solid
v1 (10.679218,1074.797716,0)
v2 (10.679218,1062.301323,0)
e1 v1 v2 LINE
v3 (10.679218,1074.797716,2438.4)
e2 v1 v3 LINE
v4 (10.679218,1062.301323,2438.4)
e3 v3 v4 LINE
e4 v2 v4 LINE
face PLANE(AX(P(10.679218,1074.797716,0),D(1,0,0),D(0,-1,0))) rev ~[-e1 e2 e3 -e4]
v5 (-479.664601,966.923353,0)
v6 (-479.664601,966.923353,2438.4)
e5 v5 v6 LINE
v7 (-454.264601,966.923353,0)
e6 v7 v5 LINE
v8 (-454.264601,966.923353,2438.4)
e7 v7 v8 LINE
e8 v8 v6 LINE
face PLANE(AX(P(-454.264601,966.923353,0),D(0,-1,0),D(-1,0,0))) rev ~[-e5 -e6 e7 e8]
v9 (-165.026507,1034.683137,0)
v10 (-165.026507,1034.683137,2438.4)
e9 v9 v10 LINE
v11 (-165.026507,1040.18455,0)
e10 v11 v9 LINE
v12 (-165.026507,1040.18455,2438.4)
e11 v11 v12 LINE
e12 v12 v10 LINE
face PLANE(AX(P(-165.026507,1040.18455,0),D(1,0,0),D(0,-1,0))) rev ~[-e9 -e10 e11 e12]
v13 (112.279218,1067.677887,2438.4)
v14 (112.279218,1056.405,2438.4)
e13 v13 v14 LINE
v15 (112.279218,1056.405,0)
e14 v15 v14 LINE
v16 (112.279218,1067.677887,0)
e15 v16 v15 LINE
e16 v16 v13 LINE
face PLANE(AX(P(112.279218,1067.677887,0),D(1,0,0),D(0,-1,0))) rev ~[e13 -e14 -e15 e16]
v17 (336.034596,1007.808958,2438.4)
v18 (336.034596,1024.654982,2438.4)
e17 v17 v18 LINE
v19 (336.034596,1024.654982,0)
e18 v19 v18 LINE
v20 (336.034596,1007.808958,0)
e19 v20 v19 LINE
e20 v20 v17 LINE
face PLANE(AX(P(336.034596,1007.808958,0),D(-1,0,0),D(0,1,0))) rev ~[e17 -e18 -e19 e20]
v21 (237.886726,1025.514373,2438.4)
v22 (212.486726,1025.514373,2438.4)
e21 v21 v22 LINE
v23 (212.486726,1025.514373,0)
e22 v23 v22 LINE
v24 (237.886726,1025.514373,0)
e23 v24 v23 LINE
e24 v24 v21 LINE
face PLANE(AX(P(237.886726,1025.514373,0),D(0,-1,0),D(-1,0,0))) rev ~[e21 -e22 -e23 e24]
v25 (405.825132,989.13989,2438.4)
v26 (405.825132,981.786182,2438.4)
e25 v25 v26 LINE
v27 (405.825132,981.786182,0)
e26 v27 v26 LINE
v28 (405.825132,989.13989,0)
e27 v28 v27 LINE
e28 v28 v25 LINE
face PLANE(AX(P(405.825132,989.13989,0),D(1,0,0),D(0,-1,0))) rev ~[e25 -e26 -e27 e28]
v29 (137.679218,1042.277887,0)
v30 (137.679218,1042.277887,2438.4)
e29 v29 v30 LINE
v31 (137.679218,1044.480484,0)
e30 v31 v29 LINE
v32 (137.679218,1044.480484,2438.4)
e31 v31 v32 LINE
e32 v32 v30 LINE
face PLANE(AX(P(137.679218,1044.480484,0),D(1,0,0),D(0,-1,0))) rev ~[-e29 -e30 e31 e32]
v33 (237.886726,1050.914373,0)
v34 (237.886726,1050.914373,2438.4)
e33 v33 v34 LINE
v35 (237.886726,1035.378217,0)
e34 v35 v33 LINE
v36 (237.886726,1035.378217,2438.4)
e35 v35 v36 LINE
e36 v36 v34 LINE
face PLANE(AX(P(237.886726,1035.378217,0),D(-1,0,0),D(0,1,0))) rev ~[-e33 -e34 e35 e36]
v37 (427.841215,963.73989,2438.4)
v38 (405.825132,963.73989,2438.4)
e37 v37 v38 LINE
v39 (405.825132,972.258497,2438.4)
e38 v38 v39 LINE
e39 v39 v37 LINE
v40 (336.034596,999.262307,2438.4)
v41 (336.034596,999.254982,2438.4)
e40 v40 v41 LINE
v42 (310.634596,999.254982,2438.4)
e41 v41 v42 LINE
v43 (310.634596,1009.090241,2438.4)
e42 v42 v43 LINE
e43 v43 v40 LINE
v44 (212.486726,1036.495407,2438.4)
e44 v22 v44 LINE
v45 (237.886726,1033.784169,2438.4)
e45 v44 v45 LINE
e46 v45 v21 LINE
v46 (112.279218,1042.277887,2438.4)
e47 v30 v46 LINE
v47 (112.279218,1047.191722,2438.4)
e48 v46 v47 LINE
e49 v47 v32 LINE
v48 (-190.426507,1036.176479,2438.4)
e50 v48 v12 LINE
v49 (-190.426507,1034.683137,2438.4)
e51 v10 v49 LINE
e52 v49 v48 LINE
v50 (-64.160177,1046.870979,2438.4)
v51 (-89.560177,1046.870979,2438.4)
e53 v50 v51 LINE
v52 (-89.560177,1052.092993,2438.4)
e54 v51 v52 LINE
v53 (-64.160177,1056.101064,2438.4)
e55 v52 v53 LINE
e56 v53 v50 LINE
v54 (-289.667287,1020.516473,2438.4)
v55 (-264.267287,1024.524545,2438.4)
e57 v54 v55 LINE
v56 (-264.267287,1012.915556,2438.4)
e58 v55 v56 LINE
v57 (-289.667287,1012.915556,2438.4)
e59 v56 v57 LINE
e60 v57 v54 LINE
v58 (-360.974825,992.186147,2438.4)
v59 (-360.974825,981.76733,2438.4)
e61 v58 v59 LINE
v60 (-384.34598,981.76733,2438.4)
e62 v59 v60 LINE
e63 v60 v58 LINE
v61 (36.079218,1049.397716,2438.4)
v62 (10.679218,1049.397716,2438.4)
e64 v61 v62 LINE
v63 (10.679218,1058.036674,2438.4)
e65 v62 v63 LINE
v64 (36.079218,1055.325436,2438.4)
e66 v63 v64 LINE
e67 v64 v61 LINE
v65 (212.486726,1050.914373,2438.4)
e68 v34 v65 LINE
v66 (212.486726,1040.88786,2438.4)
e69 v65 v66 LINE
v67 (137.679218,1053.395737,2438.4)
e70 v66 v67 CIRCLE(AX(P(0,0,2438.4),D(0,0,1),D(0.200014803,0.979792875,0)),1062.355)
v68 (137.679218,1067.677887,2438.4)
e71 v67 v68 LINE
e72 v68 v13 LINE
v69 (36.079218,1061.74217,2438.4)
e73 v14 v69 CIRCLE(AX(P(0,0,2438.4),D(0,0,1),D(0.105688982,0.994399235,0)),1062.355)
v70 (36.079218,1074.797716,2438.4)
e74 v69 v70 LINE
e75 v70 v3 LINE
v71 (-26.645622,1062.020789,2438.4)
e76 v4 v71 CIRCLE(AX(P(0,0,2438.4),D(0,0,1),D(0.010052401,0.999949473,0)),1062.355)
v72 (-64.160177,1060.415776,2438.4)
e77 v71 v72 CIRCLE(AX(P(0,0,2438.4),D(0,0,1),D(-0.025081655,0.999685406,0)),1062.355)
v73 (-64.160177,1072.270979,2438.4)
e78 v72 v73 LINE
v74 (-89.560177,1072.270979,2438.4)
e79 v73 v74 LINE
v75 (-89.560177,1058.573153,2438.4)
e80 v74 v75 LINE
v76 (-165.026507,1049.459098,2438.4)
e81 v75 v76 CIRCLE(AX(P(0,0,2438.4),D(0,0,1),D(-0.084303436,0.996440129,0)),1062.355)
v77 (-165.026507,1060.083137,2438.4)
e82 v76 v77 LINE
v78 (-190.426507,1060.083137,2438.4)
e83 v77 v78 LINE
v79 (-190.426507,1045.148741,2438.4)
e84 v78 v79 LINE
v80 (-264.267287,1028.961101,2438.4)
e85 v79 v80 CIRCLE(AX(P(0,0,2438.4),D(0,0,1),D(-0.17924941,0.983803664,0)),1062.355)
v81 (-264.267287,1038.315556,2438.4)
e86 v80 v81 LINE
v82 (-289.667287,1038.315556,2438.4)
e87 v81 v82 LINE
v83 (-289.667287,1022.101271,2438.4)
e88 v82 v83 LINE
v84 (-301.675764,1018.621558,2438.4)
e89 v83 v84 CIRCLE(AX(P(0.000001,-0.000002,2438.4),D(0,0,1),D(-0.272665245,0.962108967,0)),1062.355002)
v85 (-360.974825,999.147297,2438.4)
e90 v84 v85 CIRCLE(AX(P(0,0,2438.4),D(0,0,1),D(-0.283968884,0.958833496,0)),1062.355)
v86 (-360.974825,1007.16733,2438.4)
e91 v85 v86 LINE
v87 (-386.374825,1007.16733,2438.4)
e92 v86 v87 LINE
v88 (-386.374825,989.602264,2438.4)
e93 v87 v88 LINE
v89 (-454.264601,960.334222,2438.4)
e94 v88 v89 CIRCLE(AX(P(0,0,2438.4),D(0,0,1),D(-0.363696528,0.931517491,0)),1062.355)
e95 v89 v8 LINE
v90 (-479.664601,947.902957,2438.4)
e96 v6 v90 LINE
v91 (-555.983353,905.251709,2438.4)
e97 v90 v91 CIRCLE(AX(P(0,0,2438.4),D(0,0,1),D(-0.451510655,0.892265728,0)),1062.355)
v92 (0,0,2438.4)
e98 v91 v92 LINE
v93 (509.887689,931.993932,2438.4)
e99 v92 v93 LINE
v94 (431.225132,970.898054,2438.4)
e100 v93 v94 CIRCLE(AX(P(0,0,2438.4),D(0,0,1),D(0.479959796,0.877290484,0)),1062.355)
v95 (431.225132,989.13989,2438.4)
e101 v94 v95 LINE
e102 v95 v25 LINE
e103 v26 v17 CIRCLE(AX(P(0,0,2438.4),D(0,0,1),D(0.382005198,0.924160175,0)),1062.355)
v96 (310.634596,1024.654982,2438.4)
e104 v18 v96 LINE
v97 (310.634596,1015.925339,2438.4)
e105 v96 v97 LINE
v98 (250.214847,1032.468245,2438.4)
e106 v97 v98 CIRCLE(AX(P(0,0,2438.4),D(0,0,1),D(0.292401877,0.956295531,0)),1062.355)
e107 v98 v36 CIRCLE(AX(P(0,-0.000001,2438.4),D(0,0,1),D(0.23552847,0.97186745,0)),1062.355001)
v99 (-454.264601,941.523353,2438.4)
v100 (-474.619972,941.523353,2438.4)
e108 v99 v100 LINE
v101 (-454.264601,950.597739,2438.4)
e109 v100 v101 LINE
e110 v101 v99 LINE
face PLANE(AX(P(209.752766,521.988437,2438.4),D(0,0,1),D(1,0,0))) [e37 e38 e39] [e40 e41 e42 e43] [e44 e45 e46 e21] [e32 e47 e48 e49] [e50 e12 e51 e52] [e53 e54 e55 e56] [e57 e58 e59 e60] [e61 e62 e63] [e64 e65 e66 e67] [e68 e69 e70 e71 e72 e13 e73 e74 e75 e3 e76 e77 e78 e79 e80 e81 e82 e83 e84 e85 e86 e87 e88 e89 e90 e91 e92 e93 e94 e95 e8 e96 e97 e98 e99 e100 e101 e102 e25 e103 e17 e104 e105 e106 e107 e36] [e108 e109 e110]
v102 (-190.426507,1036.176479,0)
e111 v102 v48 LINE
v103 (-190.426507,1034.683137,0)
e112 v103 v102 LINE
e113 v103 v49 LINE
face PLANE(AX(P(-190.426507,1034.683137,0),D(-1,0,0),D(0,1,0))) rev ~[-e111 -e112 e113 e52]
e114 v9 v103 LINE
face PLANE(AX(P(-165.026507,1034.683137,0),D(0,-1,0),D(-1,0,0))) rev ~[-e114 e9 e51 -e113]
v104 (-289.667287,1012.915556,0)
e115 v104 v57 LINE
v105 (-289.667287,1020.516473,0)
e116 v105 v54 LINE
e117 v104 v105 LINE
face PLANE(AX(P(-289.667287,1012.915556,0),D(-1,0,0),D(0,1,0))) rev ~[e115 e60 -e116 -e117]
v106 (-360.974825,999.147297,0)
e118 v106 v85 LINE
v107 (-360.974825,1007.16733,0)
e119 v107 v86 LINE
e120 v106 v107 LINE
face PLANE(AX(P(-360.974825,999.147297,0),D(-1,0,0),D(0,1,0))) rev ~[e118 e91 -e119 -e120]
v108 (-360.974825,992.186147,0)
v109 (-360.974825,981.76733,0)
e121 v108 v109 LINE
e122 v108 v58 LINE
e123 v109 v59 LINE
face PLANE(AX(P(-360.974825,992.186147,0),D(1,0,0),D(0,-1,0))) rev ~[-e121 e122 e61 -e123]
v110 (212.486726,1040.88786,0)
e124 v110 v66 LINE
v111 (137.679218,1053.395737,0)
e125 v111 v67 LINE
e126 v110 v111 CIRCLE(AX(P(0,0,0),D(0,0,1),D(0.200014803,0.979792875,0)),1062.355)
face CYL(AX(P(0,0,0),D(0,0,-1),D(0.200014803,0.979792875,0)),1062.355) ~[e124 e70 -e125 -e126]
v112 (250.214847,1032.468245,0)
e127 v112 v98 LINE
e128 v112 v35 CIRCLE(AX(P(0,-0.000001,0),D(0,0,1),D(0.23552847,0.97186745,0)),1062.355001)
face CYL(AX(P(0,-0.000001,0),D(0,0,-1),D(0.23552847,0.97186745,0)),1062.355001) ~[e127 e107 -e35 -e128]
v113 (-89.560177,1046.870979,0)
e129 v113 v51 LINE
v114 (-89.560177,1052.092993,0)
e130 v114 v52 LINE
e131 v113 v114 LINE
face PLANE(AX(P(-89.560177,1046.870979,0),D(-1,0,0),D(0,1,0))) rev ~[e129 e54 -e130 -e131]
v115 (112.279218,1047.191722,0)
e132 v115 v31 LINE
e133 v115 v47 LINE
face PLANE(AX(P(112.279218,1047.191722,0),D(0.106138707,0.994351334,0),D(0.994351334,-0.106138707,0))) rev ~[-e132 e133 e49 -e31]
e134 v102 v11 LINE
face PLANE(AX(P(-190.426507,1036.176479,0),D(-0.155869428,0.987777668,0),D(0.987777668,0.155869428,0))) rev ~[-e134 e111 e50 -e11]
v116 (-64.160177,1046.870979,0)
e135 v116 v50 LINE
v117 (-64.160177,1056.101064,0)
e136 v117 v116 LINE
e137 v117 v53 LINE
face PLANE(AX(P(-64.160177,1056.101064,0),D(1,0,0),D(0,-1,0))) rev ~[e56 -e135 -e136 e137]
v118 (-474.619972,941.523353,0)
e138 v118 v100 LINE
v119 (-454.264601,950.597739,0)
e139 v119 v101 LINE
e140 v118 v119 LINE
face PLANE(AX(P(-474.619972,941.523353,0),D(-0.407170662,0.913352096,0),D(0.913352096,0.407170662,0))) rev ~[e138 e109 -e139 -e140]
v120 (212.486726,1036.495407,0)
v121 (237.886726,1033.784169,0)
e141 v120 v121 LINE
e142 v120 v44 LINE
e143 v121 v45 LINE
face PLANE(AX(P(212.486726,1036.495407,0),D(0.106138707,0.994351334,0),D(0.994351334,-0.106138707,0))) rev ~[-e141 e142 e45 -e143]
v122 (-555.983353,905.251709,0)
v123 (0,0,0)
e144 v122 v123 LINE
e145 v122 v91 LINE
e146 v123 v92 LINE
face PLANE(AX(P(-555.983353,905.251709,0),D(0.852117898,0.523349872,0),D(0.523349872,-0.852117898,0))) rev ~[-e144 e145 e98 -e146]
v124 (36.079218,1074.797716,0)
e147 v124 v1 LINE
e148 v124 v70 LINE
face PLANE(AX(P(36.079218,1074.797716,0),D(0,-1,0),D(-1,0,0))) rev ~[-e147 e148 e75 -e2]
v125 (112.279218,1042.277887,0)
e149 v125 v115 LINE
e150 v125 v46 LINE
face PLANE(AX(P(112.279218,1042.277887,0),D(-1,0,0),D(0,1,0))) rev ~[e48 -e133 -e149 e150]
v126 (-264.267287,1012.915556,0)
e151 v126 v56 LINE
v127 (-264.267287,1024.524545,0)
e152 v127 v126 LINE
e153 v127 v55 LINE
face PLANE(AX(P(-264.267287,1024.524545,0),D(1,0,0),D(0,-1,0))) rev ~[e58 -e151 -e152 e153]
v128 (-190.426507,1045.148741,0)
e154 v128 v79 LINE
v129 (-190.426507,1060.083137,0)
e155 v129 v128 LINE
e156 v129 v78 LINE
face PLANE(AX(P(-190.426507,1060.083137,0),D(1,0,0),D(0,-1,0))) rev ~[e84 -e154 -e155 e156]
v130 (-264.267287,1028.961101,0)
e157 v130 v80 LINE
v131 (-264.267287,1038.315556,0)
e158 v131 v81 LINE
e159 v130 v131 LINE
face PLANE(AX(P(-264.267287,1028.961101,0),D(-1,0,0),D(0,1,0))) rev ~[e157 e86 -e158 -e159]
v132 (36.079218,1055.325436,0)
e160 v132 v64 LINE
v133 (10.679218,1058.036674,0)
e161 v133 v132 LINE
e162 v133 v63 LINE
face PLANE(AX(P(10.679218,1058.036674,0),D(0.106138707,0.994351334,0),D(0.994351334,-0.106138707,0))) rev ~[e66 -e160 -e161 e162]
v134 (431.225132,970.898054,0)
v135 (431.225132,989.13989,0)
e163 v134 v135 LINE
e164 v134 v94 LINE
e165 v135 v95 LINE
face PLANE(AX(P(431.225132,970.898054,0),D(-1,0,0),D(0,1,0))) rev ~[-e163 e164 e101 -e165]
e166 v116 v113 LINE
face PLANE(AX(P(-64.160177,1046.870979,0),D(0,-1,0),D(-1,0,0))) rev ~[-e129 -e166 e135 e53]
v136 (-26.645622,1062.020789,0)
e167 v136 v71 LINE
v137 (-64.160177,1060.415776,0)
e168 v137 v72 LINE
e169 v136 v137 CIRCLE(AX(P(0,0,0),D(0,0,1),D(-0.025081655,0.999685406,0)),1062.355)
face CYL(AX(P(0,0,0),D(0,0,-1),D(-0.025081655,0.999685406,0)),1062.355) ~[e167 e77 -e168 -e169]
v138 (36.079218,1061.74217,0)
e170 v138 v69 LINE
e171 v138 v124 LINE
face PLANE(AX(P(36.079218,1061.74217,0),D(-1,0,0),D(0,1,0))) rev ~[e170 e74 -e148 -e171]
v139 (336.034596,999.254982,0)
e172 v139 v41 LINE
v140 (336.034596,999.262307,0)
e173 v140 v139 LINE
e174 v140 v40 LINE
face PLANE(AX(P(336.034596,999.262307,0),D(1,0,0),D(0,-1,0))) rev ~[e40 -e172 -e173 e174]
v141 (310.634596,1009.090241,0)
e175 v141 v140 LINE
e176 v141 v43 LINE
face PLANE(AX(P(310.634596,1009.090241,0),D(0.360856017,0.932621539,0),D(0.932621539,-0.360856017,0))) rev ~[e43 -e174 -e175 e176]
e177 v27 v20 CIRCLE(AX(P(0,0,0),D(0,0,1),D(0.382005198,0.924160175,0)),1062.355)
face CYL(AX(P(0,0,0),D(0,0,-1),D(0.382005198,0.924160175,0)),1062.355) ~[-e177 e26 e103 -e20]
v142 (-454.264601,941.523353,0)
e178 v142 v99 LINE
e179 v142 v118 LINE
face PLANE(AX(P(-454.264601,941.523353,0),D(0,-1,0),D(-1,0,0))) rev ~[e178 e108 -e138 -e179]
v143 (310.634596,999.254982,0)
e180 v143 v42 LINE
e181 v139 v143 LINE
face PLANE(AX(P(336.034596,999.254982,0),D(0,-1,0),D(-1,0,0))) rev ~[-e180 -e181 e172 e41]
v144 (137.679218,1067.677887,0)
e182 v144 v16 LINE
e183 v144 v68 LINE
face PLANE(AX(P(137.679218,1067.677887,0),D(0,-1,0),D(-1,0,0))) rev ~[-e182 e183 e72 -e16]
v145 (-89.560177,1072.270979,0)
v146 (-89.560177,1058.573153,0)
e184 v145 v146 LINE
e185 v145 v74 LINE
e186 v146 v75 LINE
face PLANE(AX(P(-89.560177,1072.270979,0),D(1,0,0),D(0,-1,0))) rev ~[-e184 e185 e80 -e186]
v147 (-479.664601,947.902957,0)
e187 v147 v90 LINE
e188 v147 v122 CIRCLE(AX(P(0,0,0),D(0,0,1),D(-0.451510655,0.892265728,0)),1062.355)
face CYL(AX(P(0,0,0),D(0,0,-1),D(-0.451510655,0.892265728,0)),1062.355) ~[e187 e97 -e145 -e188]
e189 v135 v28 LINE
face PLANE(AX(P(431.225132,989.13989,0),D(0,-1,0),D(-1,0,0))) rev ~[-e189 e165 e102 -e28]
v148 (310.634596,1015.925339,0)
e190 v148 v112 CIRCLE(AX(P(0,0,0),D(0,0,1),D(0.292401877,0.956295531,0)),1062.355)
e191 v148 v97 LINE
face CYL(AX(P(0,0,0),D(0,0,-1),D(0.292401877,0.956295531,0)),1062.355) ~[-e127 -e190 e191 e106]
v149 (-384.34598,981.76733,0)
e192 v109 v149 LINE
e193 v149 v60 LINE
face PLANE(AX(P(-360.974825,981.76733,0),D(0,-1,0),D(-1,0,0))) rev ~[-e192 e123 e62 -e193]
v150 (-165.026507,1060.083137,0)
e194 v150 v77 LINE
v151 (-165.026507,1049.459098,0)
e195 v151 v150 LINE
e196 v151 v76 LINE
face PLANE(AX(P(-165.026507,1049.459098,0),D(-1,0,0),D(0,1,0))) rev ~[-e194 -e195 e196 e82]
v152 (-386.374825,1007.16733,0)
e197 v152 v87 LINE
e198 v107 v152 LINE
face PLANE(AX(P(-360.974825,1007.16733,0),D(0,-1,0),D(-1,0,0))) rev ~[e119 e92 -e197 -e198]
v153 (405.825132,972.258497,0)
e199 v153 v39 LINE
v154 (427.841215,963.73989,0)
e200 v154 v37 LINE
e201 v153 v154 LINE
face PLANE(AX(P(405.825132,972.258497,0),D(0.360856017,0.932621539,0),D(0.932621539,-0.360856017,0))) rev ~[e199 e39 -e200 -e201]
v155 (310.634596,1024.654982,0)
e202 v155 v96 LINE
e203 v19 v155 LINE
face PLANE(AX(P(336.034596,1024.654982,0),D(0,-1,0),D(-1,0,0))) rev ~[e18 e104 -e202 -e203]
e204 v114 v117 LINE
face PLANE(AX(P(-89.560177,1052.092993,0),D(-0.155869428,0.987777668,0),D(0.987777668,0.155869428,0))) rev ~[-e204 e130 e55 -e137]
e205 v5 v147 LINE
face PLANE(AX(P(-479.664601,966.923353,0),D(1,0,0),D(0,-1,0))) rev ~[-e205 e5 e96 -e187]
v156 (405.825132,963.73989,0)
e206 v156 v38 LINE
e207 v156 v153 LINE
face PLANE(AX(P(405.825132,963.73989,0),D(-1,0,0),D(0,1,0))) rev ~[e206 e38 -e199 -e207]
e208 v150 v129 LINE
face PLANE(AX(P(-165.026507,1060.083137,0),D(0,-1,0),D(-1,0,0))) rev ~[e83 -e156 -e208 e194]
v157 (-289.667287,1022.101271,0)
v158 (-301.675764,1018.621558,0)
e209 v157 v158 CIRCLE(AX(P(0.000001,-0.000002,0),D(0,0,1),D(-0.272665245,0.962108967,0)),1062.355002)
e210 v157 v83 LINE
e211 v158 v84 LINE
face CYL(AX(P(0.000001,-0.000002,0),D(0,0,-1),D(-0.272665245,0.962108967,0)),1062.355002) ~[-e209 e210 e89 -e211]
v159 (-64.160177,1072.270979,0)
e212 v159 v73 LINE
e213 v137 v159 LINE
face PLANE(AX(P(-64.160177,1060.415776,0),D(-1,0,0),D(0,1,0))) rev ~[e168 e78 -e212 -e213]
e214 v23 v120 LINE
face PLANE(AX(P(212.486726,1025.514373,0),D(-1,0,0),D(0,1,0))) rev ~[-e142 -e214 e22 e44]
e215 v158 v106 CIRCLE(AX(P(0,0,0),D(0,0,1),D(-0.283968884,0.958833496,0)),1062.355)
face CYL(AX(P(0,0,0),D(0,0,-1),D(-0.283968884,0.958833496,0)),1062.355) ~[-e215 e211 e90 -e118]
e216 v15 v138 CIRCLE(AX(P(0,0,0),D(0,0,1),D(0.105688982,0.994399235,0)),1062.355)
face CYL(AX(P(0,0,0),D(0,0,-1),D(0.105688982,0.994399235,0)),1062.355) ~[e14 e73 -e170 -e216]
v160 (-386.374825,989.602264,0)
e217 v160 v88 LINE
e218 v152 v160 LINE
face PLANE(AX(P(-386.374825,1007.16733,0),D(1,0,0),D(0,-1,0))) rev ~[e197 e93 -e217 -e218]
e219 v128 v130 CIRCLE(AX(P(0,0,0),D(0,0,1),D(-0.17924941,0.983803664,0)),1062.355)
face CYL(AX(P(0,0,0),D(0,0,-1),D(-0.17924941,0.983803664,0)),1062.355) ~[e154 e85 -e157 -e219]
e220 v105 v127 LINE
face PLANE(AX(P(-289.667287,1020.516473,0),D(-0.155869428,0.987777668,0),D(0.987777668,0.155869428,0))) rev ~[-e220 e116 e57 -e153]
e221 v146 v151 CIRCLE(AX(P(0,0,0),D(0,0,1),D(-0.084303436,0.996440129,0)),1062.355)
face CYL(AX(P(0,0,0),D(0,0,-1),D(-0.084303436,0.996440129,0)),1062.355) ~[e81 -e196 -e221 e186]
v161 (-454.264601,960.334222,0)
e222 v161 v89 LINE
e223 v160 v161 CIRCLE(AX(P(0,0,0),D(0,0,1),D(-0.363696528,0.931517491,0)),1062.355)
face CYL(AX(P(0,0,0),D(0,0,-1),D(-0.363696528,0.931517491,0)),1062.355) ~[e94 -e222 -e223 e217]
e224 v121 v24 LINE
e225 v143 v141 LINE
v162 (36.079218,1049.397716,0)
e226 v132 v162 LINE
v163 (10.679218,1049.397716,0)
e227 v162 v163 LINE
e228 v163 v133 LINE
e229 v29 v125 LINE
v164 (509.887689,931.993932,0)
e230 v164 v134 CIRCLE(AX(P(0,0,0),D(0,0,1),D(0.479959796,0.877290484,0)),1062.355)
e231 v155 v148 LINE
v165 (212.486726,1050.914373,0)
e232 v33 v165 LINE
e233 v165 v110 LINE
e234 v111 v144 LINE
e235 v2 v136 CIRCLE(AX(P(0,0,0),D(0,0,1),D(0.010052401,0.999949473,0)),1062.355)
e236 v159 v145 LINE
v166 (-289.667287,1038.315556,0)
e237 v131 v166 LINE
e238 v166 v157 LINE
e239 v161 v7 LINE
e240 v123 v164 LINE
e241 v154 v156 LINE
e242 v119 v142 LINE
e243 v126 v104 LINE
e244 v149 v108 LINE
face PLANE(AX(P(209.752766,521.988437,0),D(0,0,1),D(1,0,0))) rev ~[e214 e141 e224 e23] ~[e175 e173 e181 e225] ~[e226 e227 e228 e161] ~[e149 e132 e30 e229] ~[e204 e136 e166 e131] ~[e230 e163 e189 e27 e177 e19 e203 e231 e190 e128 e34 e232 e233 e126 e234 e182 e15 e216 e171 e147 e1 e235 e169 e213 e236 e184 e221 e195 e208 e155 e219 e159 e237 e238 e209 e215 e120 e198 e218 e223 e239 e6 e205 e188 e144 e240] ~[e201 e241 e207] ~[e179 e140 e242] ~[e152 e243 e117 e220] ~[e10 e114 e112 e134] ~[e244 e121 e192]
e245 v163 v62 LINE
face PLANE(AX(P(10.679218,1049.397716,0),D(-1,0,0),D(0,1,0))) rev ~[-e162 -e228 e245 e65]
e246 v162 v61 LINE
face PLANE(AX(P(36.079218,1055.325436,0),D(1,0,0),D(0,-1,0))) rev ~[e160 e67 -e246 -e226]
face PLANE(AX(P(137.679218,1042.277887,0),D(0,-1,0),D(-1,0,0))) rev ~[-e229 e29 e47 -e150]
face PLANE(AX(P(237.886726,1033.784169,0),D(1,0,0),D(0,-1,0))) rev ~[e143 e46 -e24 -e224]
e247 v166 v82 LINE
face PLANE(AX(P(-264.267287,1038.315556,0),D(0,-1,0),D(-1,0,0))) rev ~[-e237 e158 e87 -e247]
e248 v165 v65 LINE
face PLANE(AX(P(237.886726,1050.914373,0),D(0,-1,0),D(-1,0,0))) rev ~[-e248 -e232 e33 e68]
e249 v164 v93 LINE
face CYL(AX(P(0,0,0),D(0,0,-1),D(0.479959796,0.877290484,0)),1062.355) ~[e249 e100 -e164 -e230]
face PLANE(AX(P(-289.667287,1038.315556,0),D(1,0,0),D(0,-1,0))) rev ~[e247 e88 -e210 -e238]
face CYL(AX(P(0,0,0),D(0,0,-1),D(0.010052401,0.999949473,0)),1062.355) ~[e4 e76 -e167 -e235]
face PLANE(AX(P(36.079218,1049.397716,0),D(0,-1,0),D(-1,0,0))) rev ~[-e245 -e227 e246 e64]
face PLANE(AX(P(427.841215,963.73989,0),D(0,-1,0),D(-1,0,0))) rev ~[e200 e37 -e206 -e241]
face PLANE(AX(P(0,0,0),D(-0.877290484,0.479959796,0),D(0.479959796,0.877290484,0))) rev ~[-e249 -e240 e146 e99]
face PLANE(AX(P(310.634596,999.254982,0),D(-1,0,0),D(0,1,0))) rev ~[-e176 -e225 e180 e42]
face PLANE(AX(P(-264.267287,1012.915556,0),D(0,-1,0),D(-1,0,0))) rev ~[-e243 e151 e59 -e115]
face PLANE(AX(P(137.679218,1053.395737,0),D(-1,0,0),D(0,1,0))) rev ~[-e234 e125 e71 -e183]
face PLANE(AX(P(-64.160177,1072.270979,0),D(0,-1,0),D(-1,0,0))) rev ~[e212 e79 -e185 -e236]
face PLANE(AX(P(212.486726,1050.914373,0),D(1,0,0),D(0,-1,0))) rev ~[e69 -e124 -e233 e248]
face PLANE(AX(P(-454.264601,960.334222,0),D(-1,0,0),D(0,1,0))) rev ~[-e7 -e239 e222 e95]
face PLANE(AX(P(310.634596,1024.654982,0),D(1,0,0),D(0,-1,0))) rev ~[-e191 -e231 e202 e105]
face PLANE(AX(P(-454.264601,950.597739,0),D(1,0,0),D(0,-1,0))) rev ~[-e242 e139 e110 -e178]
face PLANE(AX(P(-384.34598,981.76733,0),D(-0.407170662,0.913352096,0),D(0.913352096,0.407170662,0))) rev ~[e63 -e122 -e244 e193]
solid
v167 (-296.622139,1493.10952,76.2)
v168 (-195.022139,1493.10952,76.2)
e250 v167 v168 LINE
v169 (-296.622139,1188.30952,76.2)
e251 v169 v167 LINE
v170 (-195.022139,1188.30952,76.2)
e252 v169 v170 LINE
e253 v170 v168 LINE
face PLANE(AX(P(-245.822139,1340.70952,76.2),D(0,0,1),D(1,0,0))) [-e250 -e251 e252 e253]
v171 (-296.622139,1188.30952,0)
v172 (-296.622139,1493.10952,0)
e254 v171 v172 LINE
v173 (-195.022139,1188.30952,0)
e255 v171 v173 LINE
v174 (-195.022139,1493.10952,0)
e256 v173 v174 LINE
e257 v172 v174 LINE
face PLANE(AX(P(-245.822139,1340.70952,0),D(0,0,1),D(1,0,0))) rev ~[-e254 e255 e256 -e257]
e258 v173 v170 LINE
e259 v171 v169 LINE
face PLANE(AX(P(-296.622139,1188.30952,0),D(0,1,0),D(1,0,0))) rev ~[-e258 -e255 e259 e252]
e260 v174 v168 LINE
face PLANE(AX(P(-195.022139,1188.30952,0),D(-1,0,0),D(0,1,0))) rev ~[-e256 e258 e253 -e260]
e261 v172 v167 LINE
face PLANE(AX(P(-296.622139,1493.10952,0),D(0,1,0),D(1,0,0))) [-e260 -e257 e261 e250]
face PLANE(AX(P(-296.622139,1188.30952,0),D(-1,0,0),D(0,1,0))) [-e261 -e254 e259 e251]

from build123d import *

# Parameters (mm, degrees)
F1_DEPTH = 2438.4
F2_W     = 101.6
F2_H     = 304.8
F3_DEPTH = 76.2


with BuildPart() as f1:
    # F0 (on Top) → F1 (new body)
    with BuildSketch(Plane.XY):
        Polygon((224.1277476209, 924.8243445616), (0, 0), (509.8876894797, 931.9939324599), align=None)
        Polygon((-270.2234111133, 912.4212972272), (-555.9833529721, 905.2517093289), (0, 0), align=None)
        Polygon((-474.6199722337, 941.5233528239), (-555.9833529721, 905.2517093289), (-270.2234111133, 912.4212972272), (-301.6757642422, 1018.6215584278), (-360.974825498, 992.1861474365), (-360.974825498, 981.7673301894), (-384.3459802856, 981.7673301894), (-454.2646013891, 950.5977392098), (-454.2646013891, 941.5233528239), align=None)
        with BuildLine():
            ThreePointArc((-479.6646013891, 947.9029571635), (-518.2629193552, 927.3627620551), (-555.9833529721, 905.2517093289))
            Line((-555.9833529721, 905.2517093289), (-474.6199722337, 941.5233528239))
            Line((-474.6199722337, 941.5233528239), (-479.6646013891, 941.5233528239))
            Line((-479.6646013891, 941.5233528239), (-479.6646013891, 947.9029571635))
        make_face()
        with BuildLine():
            Line((-479.6646013891, 966.9233528239), (-479.6646013891, 947.9029571635))
            ThreePointArc((-479.6646013891, 947.9029571635), (-467.0059668107, 954.2031088758), (-454.2646013891, 960.3342220028))
            Line((-454.2646013891, 960.3342220028), (-454.2646013891, 966.9233528239))
            Line((-454.2646013891, 966.9233528239), (-479.6646013891, 966.9233528239))
        make_face()
        with BuildLine():
            ThreePointArc((-454.2646013891, 960.3342220028), (-467.0059668107, 954.2031088758), (-479.6646013891, 947.9029571635))
            Line((-479.6646013891, 947.9029571635), (-479.6646013891, 941.5233528239))
            Line((-479.6646013891, 941.5233528239), (-474.6199722337, 941.5233528239))
            Line((-474.6199722337, 941.5233528239), (-454.2646013891, 950.5977392098))
            Line((-454.2646013891, 950.5977392098), (-454.2646013891, 960.3342220028))
        make_face()
        Polygon((-270.2234111133, 912.4212972272), (0, 0), (-23.0478317462, 918.6228208944), align=None)
        Polygon((-23.0478317462, 918.6228208944), (0, 0), (224.1277476209, 924.8243445616), align=None)
        Polygon((-301.6757642422, 1018.6215584278), (-270.2234111133, 912.4212972272), (-23.0478317462, 918.6228208944), (-26.6456220174, 1062.020789275), (-64.1601768635, 1056.1010642124), (-64.1601768635, 1046.8709788577), (-89.5601768635, 1046.8709788577), (-89.5601768635, 1052.092992753), (-165.0265067315, 1040.1845501197), (-165.0265067315, 1034.6831365981), (-190.4265067315, 1034.6831365981), (-190.4265067315, 1036.1764786603), (-264.2672867652, 1024.5245446843), (-264.2672867652, 1012.9155556966), (-289.6672867652, 1012.9155556966), (-289.6672867652, 1020.5164732249), align=None)
        with BuildLine():
            ThreePointArc((-386.374825498, 989.6022636627), (-420.5743882774, 975.558983327), (-454.2646013891, 960.3342220028))
            Line((-454.2646013891, 960.3342220028), (-454.2646013891, 950.5977392098))
            Line((-454.2646013891, 950.5977392098), (-384.3459802856, 981.7673301894))
            Line((-384.3459802856, 981.7673301894), (-386.374825498, 981.7673301894))
            Line((-386.374825498, 981.7673301894), (-386.374825498, 989.6022636627))
        make_face()
        with BuildLine():
            Line((427.8412147102, 963.7398903784), (509.8876894797, 931.9939324599))
            ThreePointArc((509.8876894797, 931.9939324599), (470.9582981255, 952.2585927424), (431.2251324627, 970.8980539467))
            Line((431.2251324626, 970.8980539467), (431.2251324626, 963.7398903784))
            Line((431.2251324626, 963.7398903784), (427.8412147102, 963.7398903784))
        make_face()
        Polygon((224.1277476209, 924.8243445616), (509.8876894797, 931.9939324599), (427.8412147102, 963.7398903784), (405.8251324626, 963.7398903784), (405.8251324626, 972.2584967234), (336.0345957465, 999.2623070386), (336.0345957465, 999.2549818141), (310.6345957465, 999.2549818141), (310.6345957465, 1009.090240943), (250.2148473105, 1032.4682446499), align=None)
        Polygon((-26.6456220174, 1062.020789275), (-23.0478317462, 918.6228208944), (224.1277476209, 924.8243445616), (250.2148473105, 1032.4682446499), (237.8867258321, 1033.7841687362), (237.8867258321, 1025.5143731109), (212.4867258321, 1025.5143731109), (212.4867258321, 1036.4954067663), (137.6792180415, 1044.480483934), (137.6792180415, 1042.2778865373), (112.2792180415, 1042.2778865373), (112.2792180415, 1047.1917219641), (36.0792180415, 1055.3254360545), (36.0792180415, 1049.3977159324), (10.6792180415, 1049.3977159324), (10.6792180415, 1058.0366740846), align=None)
        with BuildLine():
            Line((-360.974825498, 992.1861474365), (-301.6757642422, 1018.6215584278))
            ThreePointArc((-301.6757642422, 1018.6215584278), (-331.4683434869, 1009.3200103491), (-360.974825498, 999.1472971398))
            Line((-360.974825498, 999.1472971398), (-360.974825498, 992.1861474365))
        make_face()
        with BuildLine():
            ThreePointArc((-289.6672867653, 1022.1012714027), (-295.6766444857, 1020.3790805042), (-301.6757642422, 1018.6215584278))
            Line((-301.6757642422, 1018.6215584278), (-289.6672867652, 1020.5164732249))
            Line((-289.6672867652, 1020.5164732249), (-289.6672867652, 1022.1012714027))
        make_face()
        with BuildLine():
            Line((-386.374825498, 1007.1673301894), (-386.374825498, 989.6022636627))
            ThreePointArc((-386.374825498, 989.6022636627), (-373.7053011759, 994.4558783063), (-360.974825498, 999.1472971398))
            Line((-360.974825498, 999.1472971398), (-360.974825498, 1007.1673301894))
            Line((-360.974825498, 1007.1673301894), (-386.374825498, 1007.1673301894))
        make_face()
        with BuildLine():
            ThreePointArc((-360.974825498, 999.1472971398), (-373.7053011759, 994.4558783063), (-386.374825498, 989.6022636627))
            Line((-386.374825498, 989.6022636627), (-386.374825498, 981.7673301894))
            Line((-386.374825498, 981.7673301894), (-384.3459802856, 981.7673301894))
            Line((-384.3459802856, 981.7673301894), (-360.974825498, 992.1861474365))
            Line((-360.974825498, 992.1861474365), (-360.974825498, 999.1472971398))
        make_face()
        with BuildLine():
            Line((431.2251324626, 963.7398903784), (431.2251324626, 970.8980539467))
            ThreePointArc((431.2251324627, 970.8980539467), (418.5605384386, 976.4247137834), (405.8251324626, 981.786182367))
            Line((405.8251324626, 981.786182367), (405.8251324626, 972.2584967234))
            Line((405.8251324626, 972.2584967234), (427.8412147102, 963.7398903784))
            Line((427.8412147102, 963.7398903784), (431.2251324626, 963.7398903784))
        make_face()
        with BuildLine():
            ThreePointArc((405.8251324626, 981.786182367), (418.5605384386, 976.4247137834), (431.2251324627, 970.8980539467))
            Line((431.2251324626, 970.8980539467), (431.2251324626, 989.1398903784))
            Line((431.2251324626, 989.1398903784), (405.8251324626, 989.1398903784))
            Line((405.8251324626, 989.1398903784), (405.8251324626, 981.786182367))
        make_face()
        with BuildLine():
            Line((-64.1601768635, 1056.1010642124), (-26.6456220174, 1062.020789275))
            ThreePointArc((-26.6456220174, 1062.020789275), (-45.4099911319, 1061.3840392292), (-64.1601768634, 1060.4157758775))
            Line((-64.1601768635, 1060.4157758775), (-64.1601768635, 1056.1010642124))
        make_face()
        with BuildLine():
            ThreePointArc((10.6792180415, 1062.301322755), (-7.9844341527, 1062.3249949221), (-26.6456220174, 1062.020789275))
            Line((-26.6456220174, 1062.020789275), (10.6792180415, 1058.0366740846))
            Line((10.6792180415, 1058.0366740846), (10.6792180415, 1062.301322755))
        make_face()
        with BuildLine():
            Line((237.8867258321, 1033.7841687362), (250.2148473105, 1032.4682446499))
            ThreePointArc((250.2148473105, 1032.4682446499), (244.0551237128, 1033.9416050312), (237.8867258321, 1035.3782167391))
            Line((237.8867258321, 1035.3782167391), (237.8867258321, 1033.7841687362))
        make_face()
        with BuildLine():
            ThreePointArc((310.6345957465, 1015.9253387678), (280.5466830638, 1024.6422325119), (250.2148473105, 1032.4682446499))
            Line((250.2148473105, 1032.4682446499), (310.6345957465, 1009.090240943))
            Line((310.6345957465, 1009.090240943), (310.6345957465, 1015.9253387678))
        make_face()
        with BuildLine():
            Line((-289.6672867652, 1038.3155556966), (-289.6672867652, 1022.1012714027))
            ThreePointArc((-289.6672867653, 1022.1012714027), (-276.9885236852, 1025.6098204345), (-264.2672867653, 1028.9611009026))
            Line((-264.2672867652, 1028.9611009026), (-264.2672867652, 1038.3155556966))
            Line((-264.2672867652, 1038.3155556966), (-289.6672867652, 1038.3155556966))
        make_face()
        with BuildLine():
            ThreePointArc((-264.2672867653, 1028.9611009026), (-276.9885236852, 1025.6098204345), (-289.6672867653, 1022.1012714027))
            Line((-289.6672867652, 1022.1012714027), (-289.6672867652, 1020.5164732249))
            Line((-289.6672867652, 1020.5164732249), (-264.2672867652, 1024.5245446843))
            Line((-264.2672867652, 1024.5245446843), (-264.2672867652, 1028.9611009026))
        make_face()
        with BuildLine():
            Line((405.8251324626, 972.2584967234), (405.8251324626, 981.786182367))
            ThreePointArc((405.8251324626, 981.786182367), (371.1579991079, 995.4094060854), (336.0345957465, 1007.8089583282))
            Line((336.0345957465, 1007.8089583282), (336.0345957465, 999.2623070386))
            Line((336.0345957465, 999.2623070386), (405.8251324626, 972.2584967234))
        make_face()
        with BuildLine():
            Line((-64.1601768635, 1056.1010642124), (-64.1601768635, 1060.4157758775))
            ThreePointArc((-64.1601768634, 1060.4157758775), (-76.8656984749, 1059.5705783113), (-89.5601768635, 1058.5731532328))
            Line((-89.5601768635, 1058.5731532328), (-89.5601768635, 1052.092992753))
            Line((-89.5601768635, 1052.092992753), (-64.1601768635, 1056.1010642124))
        make_face()
        with BuildLine():
            ThreePointArc((-89.5601768635, 1058.5731532328), (-76.8656984749, 1059.5705783113), (-64.1601768634, 1060.4157758775))
            Line((-64.1601768635, 1060.4157758775), (-64.1601768635, 1072.2709788577))
            Line((-64.1601768635, 1072.2709788577), (-89.5601768635, 1072.2709788577))
            Line((-89.5601768635, 1072.2709788577), (-89.5601768635, 1058.5731532328))
        make_face()
        with BuildLine():
            Line((10.6792180415, 1074.7977159324), (10.6792180415, 1062.301322755))
            ThreePointArc((10.6792180415, 1062.301322755), (23.3808896135, 1062.0976791359), (36.0792180415, 1061.7421702327))
            Line((36.0792180415, 1061.7421702327), (36.0792180415, 1074.7977159324))
            Line((36.0792180415, 1074.7977159324), (10.6792180415, 1074.7977159324))
        make_face()
        with BuildLine():
            ThreePointArc((36.0792180415, 1061.7421702327), (23.3808896135, 1062.0976791359), (10.6792180415, 1062.301322755))
            Line((10.6792180415, 1062.301322755), (10.6792180415, 1058.0366740846))
            Line((10.6792180415, 1058.0366740846), (36.0792180415, 1055.3254360545))
            Line((36.0792180415, 1055.3254360545), (36.0792180415, 1061.7421702327))
        make_face()
        with BuildLine():
            Line((237.8867258321, 1033.7841687362), (237.8867258321, 1035.3782167391))
            ThreePointArc((237.8867258321, 1035.3782167391), (225.2035757566, 1038.2107182511), (212.4867258321, 1040.887860132))
            Line((212.4867258321, 1040.887860132), (212.4867258321, 1036.4954067663))
            Line((212.4867258321, 1036.4954067663), (237.8867258321, 1033.7841687362))
        make_face()
        with BuildLine():
            ThreePointArc((212.4867258321, 1040.887860132), (225.2035757566, 1038.2107182511), (237.8867258321, 1035.3782167391))
            Line((237.8867258321, 1035.3782167391), (237.8867258321, 1050.9143731109))
            Line((237.8867258321, 1050.9143731109), (212.4867258321, 1050.9143731109))
            Line((212.4867258321, 1050.9143731109), (212.4867258321, 1040.887860132))
        make_face()
        with BuildLine():
            Line((310.6345957465, 1024.6549818141), (310.6345957465, 1015.9253387678))
            ThreePointArc((310.6345957465, 1015.9253387678), (323.3600620275, 1011.9468446073), (336.0345957465, 1007.8089583282))
            Line((336.0345957465, 1007.8089583282), (336.0345957465, 1024.6549818141))
            Line((336.0345957465, 1024.6549818141), (310.6345957465, 1024.6549818141))
        make_face()
        with BuildLine():
            ThreePointArc((336.0345957465, 1007.8089583282), (323.3600620275, 1011.9468446073), (310.6345957465, 1015.9253387678))
            Line((310.6345957465, 1015.9253387678), (310.6345957465, 1009.090240943))
            Line((310.6345957465, 1009.090240943), (336.0345957465, 999.2623070386))
            Line((336.0345957465, 999.2623070386), (336.0345957465, 1007.8089583282))
        make_face()
        with BuildLine():
            ThreePointArc((-190.4265067315, 1045.1487413565), (-227.4909259443, 1037.7119179416), (-264.2672867653, 1028.9611009026))
            Line((-264.2672867652, 1028.9611009026), (-264.2672867652, 1024.5245446843))
            Line((-264.2672867652, 1024.5245446843), (-190.4265067315, 1036.1764786603))
            Line((-190.4265067315, 1036.1764786603), (-190.4265067315, 1045.1487413565))
        make_face()
        with BuildLine():
            Line((-89.5601768635, 1052.092992753), (-89.5601768635, 1058.5731532328))
            ThreePointArc((-89.5601768635, 1058.5731532328), (-127.3748851511, 1054.691321979), (-165.0265067315, 1049.4590978695))
            Line((-165.0265067315, 1049.4590978695), (-165.0265067315, 1040.1845501197))
            Line((-165.0265067315, 1040.1845501197), (-89.5601768635, 1052.092992753))
        make_face()
        with BuildLine():
            ThreePointArc((112.2792180415, 1056.4049996195), (74.2272034822, 1059.7586839881), (36.0792180415, 1061.7421702327))
            Line((36.0792180415, 1061.7421702327), (36.0792180415, 1055.3254360545))
            Line((36.0792180415, 1055.3254360545), (112.2792180415, 1047.1917219641))
            Line((112.2792180415, 1047.1917219641), (112.2792180415, 1056.4049996195))
        make_face()
        with BuildLine():
            Line((212.4867258321, 1036.4954067663), (212.4867258321, 1040.887860132))
            ThreePointArc((212.4867258321, 1040.887860132), (175.1946312214, 1047.8096140121), (137.6792180416, 1053.3957371019))
            Line((137.6792180415, 1053.3957371019), (137.6792180415, 1044.480483934))
            Line((137.6792180415, 1044.480483934), (212.4867258321, 1036.4954067663))
        make_face()
        with BuildLine():
            Line((-190.4265067315, 1060.0831365981), (-190.4265067315, 1045.1487413565))
            ThreePointArc((-190.4265067315, 1045.1487413565), (-177.739573501, 1047.3809192632), (-165.0265067315, 1049.4590978695))
            Line((-165.0265067315, 1049.4590978695), (-165.0265067315, 1060.0831365981))
            Line((-165.0265067315, 1060.0831365981), (-190.4265067315, 1060.0831365981))
        make_face()
        with BuildLine():
            ThreePointArc((-165.0265067315, 1049.4590978695), (-177.739573501, 1047.3809192632), (-190.4265067315, 1045.1487413565))
            Line((-190.4265067315, 1045.1487413565), (-190.4265067315, 1036.1764786603))
            Line((-190.4265067315, 1036.1764786603), (-165.0265067315, 1040.1845501197))
            Line((-165.0265067315, 1040.1845501197), (-165.0265067315, 1049.4590978695))
        make_face()
        with BuildLine():
            Line((112.2792180415, 1067.6778865373), (112.2792180415, 1056.4049996195))
            ThreePointArc((112.2792180415, 1056.4049996195), (124.9882748801, 1054.9768135687), (137.6792180416, 1053.3957371019))
            Line((137.6792180415, 1053.3957371019), (137.6792180415, 1067.6778865373))
            Line((137.6792180415, 1067.6778865373), (112.2792180415, 1067.6778865373))
        make_face()
        with BuildLine():
            ThreePointArc((137.6792180416, 1053.3957371019), (124.9882748801, 1054.9768135687), (112.2792180415, 1056.4049996195))
            Line((112.2792180415, 1056.4049996195), (112.2792180415, 1047.1917219641))
            Line((112.2792180415, 1047.1917219641), (137.6792180415, 1044.480483934))
            Line((137.6792180415, 1044.480483934), (137.6792180415, 1053.3957371019))
        make_face()
    extrude(amount=F1_DEPTH)


with BuildPart() as f3:
    # F2 (on Top) → F3 (new body)
    with BuildSketch(Plane.XY):
        with Locations((-245.8221390843, 1340.7095196815)):
            Rectangle(F2_W, F2_H)
    extrude(amount=F3_DEPTH)


solid = Compound([f1.part, f3.part])
